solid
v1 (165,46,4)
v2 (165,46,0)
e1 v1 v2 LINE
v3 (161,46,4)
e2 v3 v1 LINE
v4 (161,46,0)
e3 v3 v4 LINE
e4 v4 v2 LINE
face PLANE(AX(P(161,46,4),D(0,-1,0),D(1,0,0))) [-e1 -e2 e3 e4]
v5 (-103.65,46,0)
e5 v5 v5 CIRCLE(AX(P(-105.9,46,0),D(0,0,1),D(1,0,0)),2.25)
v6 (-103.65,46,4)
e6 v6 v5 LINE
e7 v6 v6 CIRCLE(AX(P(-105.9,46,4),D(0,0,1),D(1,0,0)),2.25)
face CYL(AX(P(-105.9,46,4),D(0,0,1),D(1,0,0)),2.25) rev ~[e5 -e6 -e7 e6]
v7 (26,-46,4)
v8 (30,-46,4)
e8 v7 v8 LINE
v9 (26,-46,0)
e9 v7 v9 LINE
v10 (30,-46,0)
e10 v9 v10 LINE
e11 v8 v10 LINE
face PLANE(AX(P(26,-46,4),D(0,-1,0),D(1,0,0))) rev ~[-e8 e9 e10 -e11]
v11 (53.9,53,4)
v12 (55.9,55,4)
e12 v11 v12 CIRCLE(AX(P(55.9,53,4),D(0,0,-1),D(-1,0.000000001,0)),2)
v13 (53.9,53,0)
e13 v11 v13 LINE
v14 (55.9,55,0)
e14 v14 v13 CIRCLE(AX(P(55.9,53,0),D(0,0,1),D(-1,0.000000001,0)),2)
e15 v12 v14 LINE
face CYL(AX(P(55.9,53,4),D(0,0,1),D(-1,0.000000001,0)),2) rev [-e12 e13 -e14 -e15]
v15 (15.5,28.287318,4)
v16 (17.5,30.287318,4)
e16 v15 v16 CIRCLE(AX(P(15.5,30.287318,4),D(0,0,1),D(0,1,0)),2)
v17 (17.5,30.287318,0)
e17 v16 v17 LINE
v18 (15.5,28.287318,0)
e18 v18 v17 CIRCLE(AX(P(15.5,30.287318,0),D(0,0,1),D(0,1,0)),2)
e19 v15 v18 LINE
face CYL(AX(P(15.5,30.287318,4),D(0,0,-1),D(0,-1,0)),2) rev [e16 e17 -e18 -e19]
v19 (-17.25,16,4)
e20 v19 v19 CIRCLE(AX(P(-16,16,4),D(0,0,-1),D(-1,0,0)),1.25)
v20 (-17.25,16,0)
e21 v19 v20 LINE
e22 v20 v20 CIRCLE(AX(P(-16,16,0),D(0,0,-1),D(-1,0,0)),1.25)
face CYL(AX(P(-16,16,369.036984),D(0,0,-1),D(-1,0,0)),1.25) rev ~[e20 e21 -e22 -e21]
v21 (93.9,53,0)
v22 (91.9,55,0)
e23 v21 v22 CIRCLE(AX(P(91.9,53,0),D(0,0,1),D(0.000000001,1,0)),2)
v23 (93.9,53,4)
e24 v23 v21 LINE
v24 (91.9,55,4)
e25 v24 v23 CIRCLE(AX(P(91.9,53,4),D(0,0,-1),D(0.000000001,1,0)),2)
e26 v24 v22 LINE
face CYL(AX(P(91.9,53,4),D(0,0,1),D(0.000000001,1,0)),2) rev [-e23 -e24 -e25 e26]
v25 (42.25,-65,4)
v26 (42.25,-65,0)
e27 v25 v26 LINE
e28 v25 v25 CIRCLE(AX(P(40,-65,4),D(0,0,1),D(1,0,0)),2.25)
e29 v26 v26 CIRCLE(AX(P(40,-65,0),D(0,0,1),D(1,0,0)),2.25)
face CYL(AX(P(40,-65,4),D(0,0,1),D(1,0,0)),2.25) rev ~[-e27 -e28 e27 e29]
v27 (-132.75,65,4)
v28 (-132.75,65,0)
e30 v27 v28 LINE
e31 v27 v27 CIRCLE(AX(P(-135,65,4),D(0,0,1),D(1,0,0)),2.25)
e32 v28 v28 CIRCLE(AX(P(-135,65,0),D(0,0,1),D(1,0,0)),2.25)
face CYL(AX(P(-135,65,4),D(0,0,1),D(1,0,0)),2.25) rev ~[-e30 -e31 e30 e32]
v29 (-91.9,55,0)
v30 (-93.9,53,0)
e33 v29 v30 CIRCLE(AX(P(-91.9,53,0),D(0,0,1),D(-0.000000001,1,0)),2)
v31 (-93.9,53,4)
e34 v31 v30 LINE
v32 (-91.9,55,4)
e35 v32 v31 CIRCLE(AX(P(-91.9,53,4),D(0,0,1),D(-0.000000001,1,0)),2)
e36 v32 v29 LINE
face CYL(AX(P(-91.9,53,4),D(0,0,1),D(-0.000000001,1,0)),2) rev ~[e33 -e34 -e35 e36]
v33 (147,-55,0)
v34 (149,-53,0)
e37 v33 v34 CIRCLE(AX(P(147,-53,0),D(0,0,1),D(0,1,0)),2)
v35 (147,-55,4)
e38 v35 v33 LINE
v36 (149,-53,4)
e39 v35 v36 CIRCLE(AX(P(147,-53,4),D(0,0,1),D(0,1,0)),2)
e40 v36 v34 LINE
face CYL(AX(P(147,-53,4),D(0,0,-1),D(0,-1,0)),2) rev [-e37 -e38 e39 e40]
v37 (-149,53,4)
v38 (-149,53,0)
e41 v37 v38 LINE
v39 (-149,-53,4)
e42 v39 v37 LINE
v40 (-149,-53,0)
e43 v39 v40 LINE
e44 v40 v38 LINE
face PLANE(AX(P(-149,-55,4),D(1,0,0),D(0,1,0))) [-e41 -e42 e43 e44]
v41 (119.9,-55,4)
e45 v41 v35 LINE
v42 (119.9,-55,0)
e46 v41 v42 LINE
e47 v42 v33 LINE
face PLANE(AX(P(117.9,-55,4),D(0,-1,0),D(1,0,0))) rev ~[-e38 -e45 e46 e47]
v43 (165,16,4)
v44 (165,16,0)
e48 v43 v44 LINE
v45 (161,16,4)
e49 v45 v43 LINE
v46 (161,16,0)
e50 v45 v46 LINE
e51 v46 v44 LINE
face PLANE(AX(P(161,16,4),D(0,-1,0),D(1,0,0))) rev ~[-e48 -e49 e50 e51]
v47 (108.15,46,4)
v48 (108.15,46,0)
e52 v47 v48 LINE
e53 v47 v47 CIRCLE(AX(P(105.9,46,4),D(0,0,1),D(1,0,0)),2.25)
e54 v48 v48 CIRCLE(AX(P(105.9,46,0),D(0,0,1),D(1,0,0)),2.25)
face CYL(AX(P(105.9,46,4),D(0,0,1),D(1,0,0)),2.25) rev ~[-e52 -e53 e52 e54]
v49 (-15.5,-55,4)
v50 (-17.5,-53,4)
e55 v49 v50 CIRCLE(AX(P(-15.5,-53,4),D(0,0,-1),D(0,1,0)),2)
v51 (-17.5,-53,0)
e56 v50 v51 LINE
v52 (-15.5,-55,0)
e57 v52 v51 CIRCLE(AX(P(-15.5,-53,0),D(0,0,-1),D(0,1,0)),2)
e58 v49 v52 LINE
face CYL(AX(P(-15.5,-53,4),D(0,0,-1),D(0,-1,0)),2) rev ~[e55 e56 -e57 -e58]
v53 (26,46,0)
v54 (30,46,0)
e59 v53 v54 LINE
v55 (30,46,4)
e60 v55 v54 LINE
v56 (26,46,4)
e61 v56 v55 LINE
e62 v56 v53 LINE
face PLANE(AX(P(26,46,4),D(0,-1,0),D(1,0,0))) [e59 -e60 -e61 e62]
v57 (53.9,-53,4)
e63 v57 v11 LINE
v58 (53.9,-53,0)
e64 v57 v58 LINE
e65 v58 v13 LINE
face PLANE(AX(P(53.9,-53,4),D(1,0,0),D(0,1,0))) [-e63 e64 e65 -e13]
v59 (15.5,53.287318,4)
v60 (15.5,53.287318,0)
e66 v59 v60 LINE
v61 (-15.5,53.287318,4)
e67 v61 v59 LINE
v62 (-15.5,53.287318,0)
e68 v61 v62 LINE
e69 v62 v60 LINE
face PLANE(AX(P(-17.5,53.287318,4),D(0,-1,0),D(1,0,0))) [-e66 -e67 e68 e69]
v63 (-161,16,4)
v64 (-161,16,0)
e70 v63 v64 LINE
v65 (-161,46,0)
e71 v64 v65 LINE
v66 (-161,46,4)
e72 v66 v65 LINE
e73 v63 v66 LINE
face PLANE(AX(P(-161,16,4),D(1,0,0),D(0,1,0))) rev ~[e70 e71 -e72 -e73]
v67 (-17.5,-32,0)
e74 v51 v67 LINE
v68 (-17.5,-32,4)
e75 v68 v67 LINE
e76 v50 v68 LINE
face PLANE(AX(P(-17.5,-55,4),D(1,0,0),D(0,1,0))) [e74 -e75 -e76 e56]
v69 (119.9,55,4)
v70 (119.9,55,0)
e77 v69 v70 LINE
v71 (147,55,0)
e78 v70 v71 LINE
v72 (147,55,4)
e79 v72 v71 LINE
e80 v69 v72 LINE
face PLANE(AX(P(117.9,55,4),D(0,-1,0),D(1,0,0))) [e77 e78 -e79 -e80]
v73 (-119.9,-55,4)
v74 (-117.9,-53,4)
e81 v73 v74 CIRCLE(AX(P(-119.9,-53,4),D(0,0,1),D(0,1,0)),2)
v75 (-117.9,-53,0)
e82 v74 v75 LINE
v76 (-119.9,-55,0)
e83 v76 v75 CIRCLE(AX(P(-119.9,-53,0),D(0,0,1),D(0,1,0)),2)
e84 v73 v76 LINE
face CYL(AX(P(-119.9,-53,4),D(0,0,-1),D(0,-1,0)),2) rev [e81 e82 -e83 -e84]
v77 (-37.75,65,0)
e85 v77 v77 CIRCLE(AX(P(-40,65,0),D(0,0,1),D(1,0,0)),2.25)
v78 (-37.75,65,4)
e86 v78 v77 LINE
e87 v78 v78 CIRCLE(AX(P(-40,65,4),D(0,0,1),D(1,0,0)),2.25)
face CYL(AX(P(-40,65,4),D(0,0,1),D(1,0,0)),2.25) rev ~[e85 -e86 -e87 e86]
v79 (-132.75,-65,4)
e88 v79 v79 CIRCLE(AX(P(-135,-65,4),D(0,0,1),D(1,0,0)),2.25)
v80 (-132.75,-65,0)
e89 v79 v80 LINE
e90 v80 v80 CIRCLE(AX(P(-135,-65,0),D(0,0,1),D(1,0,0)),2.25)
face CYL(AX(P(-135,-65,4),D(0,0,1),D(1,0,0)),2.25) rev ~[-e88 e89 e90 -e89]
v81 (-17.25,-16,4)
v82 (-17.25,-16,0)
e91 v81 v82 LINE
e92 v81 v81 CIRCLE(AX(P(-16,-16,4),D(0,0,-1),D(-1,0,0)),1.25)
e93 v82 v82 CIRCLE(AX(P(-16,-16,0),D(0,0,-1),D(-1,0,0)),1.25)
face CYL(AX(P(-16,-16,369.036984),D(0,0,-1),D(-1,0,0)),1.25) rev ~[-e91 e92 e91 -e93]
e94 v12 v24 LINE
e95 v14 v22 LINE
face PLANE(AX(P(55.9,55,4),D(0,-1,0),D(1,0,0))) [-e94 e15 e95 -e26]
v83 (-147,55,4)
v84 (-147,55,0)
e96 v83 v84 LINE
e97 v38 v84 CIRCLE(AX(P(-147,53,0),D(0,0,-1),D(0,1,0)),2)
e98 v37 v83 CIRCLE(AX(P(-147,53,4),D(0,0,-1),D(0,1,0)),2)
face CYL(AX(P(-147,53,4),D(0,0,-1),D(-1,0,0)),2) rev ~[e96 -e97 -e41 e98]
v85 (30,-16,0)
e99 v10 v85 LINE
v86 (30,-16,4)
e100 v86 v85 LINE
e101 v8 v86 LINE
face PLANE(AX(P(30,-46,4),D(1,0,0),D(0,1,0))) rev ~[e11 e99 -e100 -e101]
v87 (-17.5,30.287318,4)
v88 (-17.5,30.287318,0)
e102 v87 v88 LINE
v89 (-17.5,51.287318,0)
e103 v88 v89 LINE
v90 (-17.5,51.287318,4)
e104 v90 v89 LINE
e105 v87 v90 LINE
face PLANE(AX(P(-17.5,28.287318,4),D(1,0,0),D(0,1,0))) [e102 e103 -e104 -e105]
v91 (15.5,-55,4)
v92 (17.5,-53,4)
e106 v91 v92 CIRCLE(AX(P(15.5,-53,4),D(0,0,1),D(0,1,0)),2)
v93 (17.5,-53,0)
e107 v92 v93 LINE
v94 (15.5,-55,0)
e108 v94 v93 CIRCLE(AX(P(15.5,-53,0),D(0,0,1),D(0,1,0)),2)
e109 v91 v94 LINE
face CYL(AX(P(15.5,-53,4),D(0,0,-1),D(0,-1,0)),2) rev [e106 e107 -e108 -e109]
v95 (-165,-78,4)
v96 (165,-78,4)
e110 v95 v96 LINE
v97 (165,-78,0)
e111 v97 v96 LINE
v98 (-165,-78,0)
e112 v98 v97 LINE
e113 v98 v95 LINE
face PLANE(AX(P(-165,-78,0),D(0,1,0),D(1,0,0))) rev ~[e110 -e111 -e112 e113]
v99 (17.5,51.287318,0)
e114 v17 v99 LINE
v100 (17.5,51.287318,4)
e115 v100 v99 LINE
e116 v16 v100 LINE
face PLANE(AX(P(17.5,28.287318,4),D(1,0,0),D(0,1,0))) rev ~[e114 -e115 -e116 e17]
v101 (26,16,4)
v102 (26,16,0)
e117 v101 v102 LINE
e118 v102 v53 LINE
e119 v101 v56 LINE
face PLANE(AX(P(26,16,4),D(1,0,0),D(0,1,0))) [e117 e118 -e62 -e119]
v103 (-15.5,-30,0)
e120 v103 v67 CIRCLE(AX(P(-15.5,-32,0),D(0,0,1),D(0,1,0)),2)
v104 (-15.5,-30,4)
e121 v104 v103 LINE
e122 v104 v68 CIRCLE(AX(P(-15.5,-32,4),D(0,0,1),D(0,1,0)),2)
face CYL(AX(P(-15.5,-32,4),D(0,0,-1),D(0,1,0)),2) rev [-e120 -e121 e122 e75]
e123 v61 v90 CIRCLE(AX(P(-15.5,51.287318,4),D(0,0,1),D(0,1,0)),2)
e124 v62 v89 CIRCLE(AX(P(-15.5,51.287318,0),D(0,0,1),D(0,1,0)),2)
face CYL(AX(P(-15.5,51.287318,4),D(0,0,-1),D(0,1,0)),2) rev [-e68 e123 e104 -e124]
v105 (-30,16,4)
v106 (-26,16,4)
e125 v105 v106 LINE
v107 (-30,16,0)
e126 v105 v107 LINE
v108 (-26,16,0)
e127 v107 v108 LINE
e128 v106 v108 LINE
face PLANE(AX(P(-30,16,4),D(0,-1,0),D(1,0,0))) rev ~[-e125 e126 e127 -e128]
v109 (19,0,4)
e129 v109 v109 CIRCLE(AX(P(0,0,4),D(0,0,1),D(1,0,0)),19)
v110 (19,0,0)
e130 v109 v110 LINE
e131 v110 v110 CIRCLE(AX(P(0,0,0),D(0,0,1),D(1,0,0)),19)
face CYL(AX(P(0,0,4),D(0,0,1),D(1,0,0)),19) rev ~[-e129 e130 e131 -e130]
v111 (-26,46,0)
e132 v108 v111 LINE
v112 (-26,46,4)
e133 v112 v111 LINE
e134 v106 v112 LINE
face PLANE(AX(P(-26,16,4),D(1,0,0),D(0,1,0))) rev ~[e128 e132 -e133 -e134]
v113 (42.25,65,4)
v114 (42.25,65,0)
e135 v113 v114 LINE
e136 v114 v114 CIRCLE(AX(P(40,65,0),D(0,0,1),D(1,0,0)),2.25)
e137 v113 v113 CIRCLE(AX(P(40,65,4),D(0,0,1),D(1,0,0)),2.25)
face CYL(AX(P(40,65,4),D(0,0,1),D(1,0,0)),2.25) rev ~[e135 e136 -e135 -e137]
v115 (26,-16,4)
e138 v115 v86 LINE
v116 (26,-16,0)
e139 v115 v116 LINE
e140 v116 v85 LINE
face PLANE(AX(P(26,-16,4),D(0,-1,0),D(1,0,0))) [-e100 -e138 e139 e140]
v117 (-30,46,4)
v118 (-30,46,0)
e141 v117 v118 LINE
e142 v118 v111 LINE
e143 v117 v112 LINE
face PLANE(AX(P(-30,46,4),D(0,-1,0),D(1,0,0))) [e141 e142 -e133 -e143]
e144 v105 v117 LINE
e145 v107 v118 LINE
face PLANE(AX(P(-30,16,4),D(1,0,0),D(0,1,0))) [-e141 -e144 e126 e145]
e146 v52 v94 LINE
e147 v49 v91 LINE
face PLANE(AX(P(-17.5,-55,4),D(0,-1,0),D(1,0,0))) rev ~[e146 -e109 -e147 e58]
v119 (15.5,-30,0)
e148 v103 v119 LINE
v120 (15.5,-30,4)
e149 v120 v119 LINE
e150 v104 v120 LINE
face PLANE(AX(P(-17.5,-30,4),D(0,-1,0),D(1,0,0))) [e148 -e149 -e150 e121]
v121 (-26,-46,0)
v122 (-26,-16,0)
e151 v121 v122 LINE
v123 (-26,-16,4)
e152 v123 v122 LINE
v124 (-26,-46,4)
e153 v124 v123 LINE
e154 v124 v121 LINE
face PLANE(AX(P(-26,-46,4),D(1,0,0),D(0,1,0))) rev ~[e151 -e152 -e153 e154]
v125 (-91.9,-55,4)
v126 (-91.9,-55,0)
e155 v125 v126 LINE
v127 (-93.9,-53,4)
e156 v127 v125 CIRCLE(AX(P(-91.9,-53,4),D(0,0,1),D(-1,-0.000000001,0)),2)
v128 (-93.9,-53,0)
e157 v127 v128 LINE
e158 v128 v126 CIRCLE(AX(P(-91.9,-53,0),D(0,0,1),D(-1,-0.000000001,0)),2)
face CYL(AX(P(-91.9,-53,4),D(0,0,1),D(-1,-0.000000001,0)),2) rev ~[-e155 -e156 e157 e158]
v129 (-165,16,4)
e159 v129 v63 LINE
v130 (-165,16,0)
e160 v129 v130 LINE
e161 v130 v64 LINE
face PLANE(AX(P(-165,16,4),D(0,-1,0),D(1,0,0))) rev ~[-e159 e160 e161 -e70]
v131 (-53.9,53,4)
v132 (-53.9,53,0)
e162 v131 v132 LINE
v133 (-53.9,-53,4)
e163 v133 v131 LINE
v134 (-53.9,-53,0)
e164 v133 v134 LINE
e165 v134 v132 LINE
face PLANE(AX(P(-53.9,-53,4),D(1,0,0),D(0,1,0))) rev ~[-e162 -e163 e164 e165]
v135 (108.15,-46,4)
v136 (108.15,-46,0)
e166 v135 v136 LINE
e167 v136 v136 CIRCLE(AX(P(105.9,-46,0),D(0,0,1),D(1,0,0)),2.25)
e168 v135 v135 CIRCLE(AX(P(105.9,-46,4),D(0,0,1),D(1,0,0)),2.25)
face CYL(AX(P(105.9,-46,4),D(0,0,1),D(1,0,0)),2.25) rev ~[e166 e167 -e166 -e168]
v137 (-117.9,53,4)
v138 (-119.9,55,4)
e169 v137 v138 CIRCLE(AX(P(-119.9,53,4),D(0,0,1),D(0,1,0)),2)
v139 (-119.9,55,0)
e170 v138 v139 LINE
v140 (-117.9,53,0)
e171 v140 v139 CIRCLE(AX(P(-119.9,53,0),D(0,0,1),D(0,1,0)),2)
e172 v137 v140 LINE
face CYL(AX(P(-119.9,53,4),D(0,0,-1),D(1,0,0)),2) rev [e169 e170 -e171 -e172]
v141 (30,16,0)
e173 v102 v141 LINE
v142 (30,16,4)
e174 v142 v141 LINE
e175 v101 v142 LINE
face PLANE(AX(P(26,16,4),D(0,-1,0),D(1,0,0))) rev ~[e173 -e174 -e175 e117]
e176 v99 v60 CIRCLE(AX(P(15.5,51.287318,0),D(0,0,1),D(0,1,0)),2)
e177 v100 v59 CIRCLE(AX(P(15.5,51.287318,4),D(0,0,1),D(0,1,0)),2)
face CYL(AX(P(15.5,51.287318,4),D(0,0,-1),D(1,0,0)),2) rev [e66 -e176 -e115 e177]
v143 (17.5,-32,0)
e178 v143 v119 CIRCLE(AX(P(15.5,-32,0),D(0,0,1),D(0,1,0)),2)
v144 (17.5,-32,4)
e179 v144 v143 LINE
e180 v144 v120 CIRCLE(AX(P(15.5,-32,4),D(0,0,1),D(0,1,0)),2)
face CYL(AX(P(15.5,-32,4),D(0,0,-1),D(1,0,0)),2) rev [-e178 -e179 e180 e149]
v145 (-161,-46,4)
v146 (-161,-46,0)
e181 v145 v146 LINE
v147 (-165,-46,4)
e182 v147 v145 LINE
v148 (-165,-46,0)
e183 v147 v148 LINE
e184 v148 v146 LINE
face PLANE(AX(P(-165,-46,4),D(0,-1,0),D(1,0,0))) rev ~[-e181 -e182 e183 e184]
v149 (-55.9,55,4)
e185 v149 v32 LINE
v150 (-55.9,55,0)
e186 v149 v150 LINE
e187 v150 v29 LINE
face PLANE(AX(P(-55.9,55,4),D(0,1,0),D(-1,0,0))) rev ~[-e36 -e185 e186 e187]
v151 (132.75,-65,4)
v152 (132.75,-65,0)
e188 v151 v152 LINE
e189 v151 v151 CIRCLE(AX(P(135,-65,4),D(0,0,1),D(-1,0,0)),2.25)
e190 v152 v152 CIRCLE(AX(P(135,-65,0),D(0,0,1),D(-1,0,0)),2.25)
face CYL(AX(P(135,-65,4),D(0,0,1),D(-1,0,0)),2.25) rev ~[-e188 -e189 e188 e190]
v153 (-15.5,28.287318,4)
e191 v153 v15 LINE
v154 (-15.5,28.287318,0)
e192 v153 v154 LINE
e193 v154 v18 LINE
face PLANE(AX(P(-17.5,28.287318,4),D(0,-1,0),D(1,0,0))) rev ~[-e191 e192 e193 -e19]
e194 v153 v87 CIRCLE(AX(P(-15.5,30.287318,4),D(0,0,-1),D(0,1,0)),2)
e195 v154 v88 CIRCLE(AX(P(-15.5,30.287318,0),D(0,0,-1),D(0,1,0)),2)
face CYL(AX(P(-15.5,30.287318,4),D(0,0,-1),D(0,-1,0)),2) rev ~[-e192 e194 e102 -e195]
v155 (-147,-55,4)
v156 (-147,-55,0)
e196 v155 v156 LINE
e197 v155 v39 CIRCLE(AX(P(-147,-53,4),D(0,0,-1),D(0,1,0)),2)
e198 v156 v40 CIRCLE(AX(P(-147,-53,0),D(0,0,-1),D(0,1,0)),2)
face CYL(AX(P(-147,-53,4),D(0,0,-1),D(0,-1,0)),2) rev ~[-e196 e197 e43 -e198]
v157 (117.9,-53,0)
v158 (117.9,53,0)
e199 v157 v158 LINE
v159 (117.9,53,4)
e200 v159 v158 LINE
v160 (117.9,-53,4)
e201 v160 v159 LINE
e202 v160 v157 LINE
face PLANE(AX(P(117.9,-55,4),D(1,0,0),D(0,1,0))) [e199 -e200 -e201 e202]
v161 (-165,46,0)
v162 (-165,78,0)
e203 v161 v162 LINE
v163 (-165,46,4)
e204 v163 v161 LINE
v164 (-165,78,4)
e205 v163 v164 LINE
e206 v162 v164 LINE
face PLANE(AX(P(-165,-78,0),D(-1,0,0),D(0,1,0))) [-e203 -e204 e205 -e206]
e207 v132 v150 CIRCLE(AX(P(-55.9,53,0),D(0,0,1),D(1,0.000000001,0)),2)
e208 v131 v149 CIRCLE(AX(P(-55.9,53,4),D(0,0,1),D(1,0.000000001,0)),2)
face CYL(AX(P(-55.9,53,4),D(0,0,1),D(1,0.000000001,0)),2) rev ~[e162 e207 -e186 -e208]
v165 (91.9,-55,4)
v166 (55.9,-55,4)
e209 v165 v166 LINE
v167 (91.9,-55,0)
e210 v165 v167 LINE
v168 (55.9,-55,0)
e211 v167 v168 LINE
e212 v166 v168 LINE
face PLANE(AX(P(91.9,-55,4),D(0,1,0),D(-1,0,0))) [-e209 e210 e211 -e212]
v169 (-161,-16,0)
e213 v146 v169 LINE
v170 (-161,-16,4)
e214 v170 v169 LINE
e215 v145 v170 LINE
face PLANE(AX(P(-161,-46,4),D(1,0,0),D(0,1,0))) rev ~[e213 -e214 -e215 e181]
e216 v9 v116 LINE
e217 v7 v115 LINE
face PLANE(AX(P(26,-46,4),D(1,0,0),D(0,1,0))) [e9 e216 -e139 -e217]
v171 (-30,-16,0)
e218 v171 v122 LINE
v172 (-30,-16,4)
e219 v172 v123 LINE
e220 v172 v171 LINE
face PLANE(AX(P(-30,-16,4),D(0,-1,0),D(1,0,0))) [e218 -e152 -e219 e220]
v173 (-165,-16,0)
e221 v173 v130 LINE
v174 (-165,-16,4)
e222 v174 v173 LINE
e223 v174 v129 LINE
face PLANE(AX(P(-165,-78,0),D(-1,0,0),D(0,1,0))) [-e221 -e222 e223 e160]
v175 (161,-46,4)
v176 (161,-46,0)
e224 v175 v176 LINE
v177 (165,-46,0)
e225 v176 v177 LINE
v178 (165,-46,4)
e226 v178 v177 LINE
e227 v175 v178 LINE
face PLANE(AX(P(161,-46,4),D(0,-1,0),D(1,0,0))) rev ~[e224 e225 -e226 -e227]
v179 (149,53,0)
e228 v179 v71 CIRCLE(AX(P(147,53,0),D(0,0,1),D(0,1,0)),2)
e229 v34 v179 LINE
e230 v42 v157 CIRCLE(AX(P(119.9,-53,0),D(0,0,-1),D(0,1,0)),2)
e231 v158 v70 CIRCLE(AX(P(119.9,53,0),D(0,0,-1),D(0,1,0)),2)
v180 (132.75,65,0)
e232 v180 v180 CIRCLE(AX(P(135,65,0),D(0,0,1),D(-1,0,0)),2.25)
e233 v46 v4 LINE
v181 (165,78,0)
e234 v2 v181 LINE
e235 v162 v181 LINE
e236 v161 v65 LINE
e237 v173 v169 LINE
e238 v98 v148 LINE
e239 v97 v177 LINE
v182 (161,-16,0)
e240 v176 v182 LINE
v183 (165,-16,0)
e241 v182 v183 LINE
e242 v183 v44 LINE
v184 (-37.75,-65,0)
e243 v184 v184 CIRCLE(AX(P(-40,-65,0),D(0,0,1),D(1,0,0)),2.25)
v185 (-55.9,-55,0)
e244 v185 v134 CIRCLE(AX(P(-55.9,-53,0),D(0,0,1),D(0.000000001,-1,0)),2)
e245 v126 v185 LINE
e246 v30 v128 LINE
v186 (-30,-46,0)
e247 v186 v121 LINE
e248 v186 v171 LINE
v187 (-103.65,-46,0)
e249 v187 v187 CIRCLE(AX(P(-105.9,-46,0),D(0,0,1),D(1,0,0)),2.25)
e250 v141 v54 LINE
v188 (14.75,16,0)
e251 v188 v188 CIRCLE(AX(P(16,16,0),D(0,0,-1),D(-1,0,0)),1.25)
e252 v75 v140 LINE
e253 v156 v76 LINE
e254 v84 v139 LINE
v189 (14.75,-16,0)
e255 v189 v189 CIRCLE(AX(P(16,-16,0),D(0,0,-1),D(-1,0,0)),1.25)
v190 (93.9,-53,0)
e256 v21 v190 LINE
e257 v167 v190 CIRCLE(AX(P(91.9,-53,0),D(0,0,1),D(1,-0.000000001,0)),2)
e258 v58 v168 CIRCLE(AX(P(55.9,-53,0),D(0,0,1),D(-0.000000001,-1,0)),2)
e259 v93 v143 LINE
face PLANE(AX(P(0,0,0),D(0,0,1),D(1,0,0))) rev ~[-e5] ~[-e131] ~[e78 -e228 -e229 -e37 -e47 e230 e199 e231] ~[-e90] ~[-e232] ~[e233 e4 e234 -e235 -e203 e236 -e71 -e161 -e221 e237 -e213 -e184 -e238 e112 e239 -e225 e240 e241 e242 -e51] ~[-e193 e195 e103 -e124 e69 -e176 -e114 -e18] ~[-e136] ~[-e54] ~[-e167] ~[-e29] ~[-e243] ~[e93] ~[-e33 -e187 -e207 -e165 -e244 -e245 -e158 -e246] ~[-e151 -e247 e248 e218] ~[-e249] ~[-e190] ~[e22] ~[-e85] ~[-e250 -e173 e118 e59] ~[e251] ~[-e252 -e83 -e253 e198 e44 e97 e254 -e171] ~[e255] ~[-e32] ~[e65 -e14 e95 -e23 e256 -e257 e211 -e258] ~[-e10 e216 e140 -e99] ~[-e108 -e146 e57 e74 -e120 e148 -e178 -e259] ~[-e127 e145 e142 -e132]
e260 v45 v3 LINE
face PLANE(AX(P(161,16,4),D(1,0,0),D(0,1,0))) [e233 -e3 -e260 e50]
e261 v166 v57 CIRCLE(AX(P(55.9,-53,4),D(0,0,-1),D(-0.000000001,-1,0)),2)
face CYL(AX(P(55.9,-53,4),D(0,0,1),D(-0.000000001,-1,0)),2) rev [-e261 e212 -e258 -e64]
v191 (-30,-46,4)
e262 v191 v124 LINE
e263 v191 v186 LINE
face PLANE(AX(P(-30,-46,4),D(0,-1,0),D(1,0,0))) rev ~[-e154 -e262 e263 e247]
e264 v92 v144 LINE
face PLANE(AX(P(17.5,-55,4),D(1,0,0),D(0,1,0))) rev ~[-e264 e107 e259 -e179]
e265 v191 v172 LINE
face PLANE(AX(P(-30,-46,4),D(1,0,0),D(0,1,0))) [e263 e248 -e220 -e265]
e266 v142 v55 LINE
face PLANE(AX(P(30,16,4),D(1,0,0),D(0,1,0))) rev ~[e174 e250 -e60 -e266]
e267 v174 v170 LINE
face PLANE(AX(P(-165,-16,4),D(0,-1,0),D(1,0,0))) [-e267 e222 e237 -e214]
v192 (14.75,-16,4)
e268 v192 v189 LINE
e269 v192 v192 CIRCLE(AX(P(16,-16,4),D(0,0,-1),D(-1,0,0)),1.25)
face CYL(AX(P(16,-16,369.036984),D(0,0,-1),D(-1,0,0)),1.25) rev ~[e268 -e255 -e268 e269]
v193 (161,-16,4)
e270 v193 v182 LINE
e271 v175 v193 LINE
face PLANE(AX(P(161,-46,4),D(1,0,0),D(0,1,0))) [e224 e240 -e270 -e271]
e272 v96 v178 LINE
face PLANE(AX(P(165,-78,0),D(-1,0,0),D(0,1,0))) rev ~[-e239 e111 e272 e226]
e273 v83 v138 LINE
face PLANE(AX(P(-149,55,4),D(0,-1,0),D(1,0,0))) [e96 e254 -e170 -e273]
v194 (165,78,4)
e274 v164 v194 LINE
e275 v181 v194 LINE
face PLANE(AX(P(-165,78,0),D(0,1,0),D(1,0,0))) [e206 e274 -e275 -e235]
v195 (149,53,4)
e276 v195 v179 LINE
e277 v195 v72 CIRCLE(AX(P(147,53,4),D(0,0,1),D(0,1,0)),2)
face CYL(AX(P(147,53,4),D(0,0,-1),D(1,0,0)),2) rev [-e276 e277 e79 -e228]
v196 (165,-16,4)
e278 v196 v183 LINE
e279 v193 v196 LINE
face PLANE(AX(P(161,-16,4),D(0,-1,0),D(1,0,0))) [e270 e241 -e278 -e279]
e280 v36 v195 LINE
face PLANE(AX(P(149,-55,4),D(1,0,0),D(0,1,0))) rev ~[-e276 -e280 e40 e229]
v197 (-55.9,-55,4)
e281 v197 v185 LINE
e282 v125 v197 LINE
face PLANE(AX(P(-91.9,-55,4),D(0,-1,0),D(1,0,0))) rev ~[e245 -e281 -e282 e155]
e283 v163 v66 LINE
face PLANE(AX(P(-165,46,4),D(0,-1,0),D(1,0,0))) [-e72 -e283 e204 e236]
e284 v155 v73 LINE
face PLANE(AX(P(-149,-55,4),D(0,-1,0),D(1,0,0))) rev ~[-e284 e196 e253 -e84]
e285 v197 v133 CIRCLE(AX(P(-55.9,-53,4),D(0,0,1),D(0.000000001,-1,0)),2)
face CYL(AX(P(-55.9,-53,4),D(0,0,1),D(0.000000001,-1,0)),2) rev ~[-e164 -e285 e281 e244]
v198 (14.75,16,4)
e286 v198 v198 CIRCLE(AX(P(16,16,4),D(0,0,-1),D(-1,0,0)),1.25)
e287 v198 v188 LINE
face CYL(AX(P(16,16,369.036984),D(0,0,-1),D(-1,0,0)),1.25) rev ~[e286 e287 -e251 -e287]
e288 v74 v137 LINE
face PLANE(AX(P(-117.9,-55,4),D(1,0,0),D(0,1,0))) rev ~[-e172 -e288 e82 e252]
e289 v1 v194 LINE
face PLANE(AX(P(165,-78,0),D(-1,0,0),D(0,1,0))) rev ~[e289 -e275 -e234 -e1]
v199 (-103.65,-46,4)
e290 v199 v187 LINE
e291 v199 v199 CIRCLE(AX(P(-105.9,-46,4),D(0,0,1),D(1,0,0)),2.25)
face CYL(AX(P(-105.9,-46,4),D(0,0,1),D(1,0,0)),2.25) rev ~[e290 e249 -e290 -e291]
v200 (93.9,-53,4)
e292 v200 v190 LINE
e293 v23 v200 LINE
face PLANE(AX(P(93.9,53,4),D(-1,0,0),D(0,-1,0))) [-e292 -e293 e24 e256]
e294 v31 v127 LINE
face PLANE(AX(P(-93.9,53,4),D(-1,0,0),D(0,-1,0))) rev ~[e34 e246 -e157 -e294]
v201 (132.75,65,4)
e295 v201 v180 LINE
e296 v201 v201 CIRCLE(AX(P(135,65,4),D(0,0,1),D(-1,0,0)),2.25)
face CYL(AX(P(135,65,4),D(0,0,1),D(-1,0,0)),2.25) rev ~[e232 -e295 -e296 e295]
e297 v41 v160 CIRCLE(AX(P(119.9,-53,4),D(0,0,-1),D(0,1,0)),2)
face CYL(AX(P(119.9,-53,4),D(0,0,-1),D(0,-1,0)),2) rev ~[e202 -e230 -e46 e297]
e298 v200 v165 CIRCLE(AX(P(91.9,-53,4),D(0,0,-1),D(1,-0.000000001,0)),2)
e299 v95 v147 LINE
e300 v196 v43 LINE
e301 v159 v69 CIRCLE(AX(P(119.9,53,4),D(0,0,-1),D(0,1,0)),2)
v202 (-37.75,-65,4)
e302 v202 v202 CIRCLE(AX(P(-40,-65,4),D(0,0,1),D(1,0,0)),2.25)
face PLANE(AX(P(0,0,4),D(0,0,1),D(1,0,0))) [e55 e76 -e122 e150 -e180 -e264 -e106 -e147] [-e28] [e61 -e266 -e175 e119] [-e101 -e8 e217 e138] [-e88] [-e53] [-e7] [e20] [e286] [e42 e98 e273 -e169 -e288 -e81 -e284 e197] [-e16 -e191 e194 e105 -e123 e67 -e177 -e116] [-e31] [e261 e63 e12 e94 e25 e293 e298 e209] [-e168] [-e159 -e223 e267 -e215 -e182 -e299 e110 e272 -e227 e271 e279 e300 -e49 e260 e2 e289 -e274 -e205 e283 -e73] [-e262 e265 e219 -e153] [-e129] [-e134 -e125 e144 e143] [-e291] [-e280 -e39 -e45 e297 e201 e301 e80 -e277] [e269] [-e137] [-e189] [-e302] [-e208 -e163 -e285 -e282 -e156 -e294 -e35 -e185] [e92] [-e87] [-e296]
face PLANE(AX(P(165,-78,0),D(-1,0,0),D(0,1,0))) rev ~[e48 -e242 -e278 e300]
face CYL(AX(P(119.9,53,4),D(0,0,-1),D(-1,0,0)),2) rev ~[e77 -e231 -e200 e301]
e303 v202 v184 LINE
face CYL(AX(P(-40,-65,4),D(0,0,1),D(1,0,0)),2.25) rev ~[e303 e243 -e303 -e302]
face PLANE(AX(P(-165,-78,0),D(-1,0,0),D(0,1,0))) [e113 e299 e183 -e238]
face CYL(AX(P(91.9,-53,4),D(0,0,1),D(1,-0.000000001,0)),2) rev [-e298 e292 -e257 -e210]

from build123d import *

# Parameters (mm, degrees)
SKIZZE1_W                       = 330
SKIZZE1_H                       = 156
AUFSATZ_LINEAR_AUSTRAGEN1_DEPTH = 4
SKIZZE2_R                       = 2.25
SKIZZE2_W                       = 31.1
SKIZZE2_H                       = 110
SCHNITT_LINEAR_AUSTRAGEN1_DEPTH = 183.551362635
M3_GEWINDEBOHRUNG1_D            = 2.5
SKIZZE5_R                       = 19
SCHNITT_LINEAR_AUSTRAGEN2_DEPTH = 183.551362635
SKIZZE7_W                       = 35
SKIZZE7_H                       = 25
SCHNITT_LINEAR_AUSTRAGEN3_DEPTH = 183.551362635
VERRUNDUNG1_R                   = 2
SCHNITT_LINEAR_AUSTRAGEN4_DEPTH = 183.551362635
SKIZZE9_W                       = 4
SKIZZE9_H                       = 30
SCHNITT_LINEAR_AUSTRAGEN5_DEPTH = 183.551362635


with BuildPart() as part:
    # Skizze1 → Aufsatz-Linear austragen1 (new body)
    with BuildSketch(Plane.XY):
        Rectangle(SKIZZE1_W, SKIZZE1_H)
    extrude(amount=AUFSATZ_LINEAR_AUSTRAGEN1_DEPTH)

    # Skizze2 → Schnitt-Linear austragen1 (cut, through all)
    with BuildSketch(Plane.XY.offset(4)):
        with Locations((-105.9, 46)):
            Circle(SKIZZE2_R)
        with Locations((-105.9, -46)):
            Circle(SKIZZE2_R)
        with Locations((105.9, -46)):
            Circle(SKIZZE2_R)
        with Locations((105.9, 46)):
            Circle(SKIZZE2_R)
        with Locations((-40, 65)):
            Circle(SKIZZE2_R)
        with Locations((40, 65)):
            Circle(SKIZZE2_R)
        with Locations((-40, -65)):
            Circle(SKIZZE2_R)
        with Locations((40, -65)):
            Circle(SKIZZE2_R)
        with Locations((-135, -65)):
            Circle(SKIZZE2_R)
        with Locations((-135, 65)):
            Circle(SKIZZE2_R)
        with Locations(Location((135, -65, 0), (0, 0, 180))):
            Circle(SKIZZE2_R)
        with Locations(Location((135, 65, 0), (0, 0, 180))):
            Circle(SKIZZE2_R)
        with Locations((133.45, 0)):
            Rectangle(SKIZZE2_W, SKIZZE2_H)
        with Locations((-133.45, 0)):
            Rectangle(SKIZZE2_W, SKIZZE2_H)
    extrude(amount=-SCHNITT_LINEAR_AUSTRAGEN1_DEPTH, mode=Mode.SUBTRACT)

    # M3 Gewindebohrung1 (through all)
    with Locations(Plane.XY.offset(4)):
        with Locations((16, -16), (0, 0), (16, 16), (-16, -16), (-16, 16)):
            Hole(M3_GEWINDEBOHRUNG1_D / 2)

    # Skizze5 → Schnitt-Linear austragen2 (cut, through all)
    with BuildSketch(Plane.XY.offset(4)):
        Circle(SKIZZE5_R)
    extrude(amount=-SCHNITT_LINEAR_AUSTRAGEN2_DEPTH, mode=Mode.SUBTRACT)

    # Skizze7 → Schnitt-Linear austragen3 (cut, through all)
    with BuildSketch(Plane.XY.offset(4)):
        with Locations((0, -42.5)):
            Rectangle(SKIZZE7_W, SKIZZE7_H)
        with Locations((0, 40.787318201)):
            Rectangle(SKIZZE7_W, SKIZZE7_H)
    extrude(amount=-SCHNITT_LINEAR_AUSTRAGEN3_DEPTH, mode=Mode.SUBTRACT)

    # Verrundung1
    verrundung1_edges = [part.edges().sort_by_distance(p)[0] for p in [
        (-17.5, 28.287318201, 2),
        (-17.5, 53.287318201, 2),
        (17.5, 53.287318201, 2),
        (17.5, 28.287318201, 2),
        (17.5, -30, 2),
        (17.5, -55, 2),
        (-17.5, -55, 2),
        (-17.5, -30, 2),
        (149, 55, 2),
        (149, -55, 2),
        (117.9, -55, 2),
        (117.9, 55, 2),
        (-149, -55, 2),
        (-149, 55, 2),
        (-117.9, 55, 2),
        (-117.9, -55, 2),
    ]]
    fillet(verrundung1_edges, radius=VERRUNDUNG1_R)

    # Skizze8 → Schnitt-Linear austragen4 (cut, through all)
    with BuildSketch(Plane.XY.offset(4)):
        with BuildLine():
            Line((-93.9, 9), (-93.9, -9))
            Line((-93.9, -9), (-93.9, -53))
            ThreePointArc((-93.9, -53), (-93.314213562, -54.414213562), (-91.9, -55))
            Line((-91.9, -55), (-55.9, -55))
            ThreePointArc((-55.9, -55), (-54.485786438, -54.414213562), (-53.9, -53))
            Line((-53.9, -53), (-53.9, -9))
            Line((-53.9, -9), (-53.9, 9))
            Line((-53.9, 9), (-53.9, 53))
            ThreePointArc((-53.9, 53), (-54.485786438, 54.414213562), (-55.9, 55))
            Line((-55.9, 55), (-91.9, 55))
            ThreePointArc((-91.9, 55), (-93.314213562, 54.414213562), (-93.9, 53))
            Line((-93.9, 53), (-93.9, 9))
        make_face()
        with BuildLine():
            Line((53.9, 9), (53.9, 53))
            ThreePointArc((53.9, 53), (54.485786438, 54.414213562), (55.9, 55))
            Line((55.9, 55), (91.9, 55))
            ThreePointArc((91.9, 55), (93.314213562, 54.414213562), (93.9, 53))
            Line((93.9, 53), (93.9, 9))
            Line((93.9, 9), (93.9, -9))
            Line((93.9, -9), (93.9, -53))
            ThreePointArc((93.9, -53), (93.314213562, -54.414213562), (91.9, -55))
            Line((91.9, -55), (55.9, -55))
            ThreePointArc((55.9, -55), (54.485786438, -54.414213562), (53.9, -53))
            Line((53.9, -53), (53.9, -9))
            Line((53.9, -9), (53.9, 9))
        make_face()
    extrude(amount=-SCHNITT_LINEAR_AUSTRAGEN4_DEPTH, mode=Mode.SUBTRACT)

    # Skizze9 → Schnitt-Linear austragen5 (cut, through all)
    with BuildSketch(Plane.XY.offset(4)):
        with Locations((-163, 31)):
            Rectangle(SKIZZE9_W, SKIZZE9_H)
        with Locations((-163, -31)):
            Rectangle(SKIZZE9_W, SKIZZE9_H)
        with Locations((163, -31)):
            Rectangle(SKIZZE9_W, SKIZZE9_H)
        with Locations((163, 31)):
            Rectangle(SKIZZE9_W, SKIZZE9_H)
        with Locations((-28, -31)):
            Rectangle(SKIZZE9_W, SKIZZE9_H)
        with Locations((-28, 31)):
            Rectangle(SKIZZE9_W, SKIZZE9_H)
        with Locations((28, -31)):
            Rectangle(SKIZZE9_W, SKIZZE9_H)
        with Locations((28, 31)):
            Rectangle(SKIZZE9_W, SKIZZE9_H)
    extrude(amount=-SCHNITT_LINEAR_AUSTRAGEN5_DEPTH, mode=Mode.SUBTRACT)


solid = part.part
